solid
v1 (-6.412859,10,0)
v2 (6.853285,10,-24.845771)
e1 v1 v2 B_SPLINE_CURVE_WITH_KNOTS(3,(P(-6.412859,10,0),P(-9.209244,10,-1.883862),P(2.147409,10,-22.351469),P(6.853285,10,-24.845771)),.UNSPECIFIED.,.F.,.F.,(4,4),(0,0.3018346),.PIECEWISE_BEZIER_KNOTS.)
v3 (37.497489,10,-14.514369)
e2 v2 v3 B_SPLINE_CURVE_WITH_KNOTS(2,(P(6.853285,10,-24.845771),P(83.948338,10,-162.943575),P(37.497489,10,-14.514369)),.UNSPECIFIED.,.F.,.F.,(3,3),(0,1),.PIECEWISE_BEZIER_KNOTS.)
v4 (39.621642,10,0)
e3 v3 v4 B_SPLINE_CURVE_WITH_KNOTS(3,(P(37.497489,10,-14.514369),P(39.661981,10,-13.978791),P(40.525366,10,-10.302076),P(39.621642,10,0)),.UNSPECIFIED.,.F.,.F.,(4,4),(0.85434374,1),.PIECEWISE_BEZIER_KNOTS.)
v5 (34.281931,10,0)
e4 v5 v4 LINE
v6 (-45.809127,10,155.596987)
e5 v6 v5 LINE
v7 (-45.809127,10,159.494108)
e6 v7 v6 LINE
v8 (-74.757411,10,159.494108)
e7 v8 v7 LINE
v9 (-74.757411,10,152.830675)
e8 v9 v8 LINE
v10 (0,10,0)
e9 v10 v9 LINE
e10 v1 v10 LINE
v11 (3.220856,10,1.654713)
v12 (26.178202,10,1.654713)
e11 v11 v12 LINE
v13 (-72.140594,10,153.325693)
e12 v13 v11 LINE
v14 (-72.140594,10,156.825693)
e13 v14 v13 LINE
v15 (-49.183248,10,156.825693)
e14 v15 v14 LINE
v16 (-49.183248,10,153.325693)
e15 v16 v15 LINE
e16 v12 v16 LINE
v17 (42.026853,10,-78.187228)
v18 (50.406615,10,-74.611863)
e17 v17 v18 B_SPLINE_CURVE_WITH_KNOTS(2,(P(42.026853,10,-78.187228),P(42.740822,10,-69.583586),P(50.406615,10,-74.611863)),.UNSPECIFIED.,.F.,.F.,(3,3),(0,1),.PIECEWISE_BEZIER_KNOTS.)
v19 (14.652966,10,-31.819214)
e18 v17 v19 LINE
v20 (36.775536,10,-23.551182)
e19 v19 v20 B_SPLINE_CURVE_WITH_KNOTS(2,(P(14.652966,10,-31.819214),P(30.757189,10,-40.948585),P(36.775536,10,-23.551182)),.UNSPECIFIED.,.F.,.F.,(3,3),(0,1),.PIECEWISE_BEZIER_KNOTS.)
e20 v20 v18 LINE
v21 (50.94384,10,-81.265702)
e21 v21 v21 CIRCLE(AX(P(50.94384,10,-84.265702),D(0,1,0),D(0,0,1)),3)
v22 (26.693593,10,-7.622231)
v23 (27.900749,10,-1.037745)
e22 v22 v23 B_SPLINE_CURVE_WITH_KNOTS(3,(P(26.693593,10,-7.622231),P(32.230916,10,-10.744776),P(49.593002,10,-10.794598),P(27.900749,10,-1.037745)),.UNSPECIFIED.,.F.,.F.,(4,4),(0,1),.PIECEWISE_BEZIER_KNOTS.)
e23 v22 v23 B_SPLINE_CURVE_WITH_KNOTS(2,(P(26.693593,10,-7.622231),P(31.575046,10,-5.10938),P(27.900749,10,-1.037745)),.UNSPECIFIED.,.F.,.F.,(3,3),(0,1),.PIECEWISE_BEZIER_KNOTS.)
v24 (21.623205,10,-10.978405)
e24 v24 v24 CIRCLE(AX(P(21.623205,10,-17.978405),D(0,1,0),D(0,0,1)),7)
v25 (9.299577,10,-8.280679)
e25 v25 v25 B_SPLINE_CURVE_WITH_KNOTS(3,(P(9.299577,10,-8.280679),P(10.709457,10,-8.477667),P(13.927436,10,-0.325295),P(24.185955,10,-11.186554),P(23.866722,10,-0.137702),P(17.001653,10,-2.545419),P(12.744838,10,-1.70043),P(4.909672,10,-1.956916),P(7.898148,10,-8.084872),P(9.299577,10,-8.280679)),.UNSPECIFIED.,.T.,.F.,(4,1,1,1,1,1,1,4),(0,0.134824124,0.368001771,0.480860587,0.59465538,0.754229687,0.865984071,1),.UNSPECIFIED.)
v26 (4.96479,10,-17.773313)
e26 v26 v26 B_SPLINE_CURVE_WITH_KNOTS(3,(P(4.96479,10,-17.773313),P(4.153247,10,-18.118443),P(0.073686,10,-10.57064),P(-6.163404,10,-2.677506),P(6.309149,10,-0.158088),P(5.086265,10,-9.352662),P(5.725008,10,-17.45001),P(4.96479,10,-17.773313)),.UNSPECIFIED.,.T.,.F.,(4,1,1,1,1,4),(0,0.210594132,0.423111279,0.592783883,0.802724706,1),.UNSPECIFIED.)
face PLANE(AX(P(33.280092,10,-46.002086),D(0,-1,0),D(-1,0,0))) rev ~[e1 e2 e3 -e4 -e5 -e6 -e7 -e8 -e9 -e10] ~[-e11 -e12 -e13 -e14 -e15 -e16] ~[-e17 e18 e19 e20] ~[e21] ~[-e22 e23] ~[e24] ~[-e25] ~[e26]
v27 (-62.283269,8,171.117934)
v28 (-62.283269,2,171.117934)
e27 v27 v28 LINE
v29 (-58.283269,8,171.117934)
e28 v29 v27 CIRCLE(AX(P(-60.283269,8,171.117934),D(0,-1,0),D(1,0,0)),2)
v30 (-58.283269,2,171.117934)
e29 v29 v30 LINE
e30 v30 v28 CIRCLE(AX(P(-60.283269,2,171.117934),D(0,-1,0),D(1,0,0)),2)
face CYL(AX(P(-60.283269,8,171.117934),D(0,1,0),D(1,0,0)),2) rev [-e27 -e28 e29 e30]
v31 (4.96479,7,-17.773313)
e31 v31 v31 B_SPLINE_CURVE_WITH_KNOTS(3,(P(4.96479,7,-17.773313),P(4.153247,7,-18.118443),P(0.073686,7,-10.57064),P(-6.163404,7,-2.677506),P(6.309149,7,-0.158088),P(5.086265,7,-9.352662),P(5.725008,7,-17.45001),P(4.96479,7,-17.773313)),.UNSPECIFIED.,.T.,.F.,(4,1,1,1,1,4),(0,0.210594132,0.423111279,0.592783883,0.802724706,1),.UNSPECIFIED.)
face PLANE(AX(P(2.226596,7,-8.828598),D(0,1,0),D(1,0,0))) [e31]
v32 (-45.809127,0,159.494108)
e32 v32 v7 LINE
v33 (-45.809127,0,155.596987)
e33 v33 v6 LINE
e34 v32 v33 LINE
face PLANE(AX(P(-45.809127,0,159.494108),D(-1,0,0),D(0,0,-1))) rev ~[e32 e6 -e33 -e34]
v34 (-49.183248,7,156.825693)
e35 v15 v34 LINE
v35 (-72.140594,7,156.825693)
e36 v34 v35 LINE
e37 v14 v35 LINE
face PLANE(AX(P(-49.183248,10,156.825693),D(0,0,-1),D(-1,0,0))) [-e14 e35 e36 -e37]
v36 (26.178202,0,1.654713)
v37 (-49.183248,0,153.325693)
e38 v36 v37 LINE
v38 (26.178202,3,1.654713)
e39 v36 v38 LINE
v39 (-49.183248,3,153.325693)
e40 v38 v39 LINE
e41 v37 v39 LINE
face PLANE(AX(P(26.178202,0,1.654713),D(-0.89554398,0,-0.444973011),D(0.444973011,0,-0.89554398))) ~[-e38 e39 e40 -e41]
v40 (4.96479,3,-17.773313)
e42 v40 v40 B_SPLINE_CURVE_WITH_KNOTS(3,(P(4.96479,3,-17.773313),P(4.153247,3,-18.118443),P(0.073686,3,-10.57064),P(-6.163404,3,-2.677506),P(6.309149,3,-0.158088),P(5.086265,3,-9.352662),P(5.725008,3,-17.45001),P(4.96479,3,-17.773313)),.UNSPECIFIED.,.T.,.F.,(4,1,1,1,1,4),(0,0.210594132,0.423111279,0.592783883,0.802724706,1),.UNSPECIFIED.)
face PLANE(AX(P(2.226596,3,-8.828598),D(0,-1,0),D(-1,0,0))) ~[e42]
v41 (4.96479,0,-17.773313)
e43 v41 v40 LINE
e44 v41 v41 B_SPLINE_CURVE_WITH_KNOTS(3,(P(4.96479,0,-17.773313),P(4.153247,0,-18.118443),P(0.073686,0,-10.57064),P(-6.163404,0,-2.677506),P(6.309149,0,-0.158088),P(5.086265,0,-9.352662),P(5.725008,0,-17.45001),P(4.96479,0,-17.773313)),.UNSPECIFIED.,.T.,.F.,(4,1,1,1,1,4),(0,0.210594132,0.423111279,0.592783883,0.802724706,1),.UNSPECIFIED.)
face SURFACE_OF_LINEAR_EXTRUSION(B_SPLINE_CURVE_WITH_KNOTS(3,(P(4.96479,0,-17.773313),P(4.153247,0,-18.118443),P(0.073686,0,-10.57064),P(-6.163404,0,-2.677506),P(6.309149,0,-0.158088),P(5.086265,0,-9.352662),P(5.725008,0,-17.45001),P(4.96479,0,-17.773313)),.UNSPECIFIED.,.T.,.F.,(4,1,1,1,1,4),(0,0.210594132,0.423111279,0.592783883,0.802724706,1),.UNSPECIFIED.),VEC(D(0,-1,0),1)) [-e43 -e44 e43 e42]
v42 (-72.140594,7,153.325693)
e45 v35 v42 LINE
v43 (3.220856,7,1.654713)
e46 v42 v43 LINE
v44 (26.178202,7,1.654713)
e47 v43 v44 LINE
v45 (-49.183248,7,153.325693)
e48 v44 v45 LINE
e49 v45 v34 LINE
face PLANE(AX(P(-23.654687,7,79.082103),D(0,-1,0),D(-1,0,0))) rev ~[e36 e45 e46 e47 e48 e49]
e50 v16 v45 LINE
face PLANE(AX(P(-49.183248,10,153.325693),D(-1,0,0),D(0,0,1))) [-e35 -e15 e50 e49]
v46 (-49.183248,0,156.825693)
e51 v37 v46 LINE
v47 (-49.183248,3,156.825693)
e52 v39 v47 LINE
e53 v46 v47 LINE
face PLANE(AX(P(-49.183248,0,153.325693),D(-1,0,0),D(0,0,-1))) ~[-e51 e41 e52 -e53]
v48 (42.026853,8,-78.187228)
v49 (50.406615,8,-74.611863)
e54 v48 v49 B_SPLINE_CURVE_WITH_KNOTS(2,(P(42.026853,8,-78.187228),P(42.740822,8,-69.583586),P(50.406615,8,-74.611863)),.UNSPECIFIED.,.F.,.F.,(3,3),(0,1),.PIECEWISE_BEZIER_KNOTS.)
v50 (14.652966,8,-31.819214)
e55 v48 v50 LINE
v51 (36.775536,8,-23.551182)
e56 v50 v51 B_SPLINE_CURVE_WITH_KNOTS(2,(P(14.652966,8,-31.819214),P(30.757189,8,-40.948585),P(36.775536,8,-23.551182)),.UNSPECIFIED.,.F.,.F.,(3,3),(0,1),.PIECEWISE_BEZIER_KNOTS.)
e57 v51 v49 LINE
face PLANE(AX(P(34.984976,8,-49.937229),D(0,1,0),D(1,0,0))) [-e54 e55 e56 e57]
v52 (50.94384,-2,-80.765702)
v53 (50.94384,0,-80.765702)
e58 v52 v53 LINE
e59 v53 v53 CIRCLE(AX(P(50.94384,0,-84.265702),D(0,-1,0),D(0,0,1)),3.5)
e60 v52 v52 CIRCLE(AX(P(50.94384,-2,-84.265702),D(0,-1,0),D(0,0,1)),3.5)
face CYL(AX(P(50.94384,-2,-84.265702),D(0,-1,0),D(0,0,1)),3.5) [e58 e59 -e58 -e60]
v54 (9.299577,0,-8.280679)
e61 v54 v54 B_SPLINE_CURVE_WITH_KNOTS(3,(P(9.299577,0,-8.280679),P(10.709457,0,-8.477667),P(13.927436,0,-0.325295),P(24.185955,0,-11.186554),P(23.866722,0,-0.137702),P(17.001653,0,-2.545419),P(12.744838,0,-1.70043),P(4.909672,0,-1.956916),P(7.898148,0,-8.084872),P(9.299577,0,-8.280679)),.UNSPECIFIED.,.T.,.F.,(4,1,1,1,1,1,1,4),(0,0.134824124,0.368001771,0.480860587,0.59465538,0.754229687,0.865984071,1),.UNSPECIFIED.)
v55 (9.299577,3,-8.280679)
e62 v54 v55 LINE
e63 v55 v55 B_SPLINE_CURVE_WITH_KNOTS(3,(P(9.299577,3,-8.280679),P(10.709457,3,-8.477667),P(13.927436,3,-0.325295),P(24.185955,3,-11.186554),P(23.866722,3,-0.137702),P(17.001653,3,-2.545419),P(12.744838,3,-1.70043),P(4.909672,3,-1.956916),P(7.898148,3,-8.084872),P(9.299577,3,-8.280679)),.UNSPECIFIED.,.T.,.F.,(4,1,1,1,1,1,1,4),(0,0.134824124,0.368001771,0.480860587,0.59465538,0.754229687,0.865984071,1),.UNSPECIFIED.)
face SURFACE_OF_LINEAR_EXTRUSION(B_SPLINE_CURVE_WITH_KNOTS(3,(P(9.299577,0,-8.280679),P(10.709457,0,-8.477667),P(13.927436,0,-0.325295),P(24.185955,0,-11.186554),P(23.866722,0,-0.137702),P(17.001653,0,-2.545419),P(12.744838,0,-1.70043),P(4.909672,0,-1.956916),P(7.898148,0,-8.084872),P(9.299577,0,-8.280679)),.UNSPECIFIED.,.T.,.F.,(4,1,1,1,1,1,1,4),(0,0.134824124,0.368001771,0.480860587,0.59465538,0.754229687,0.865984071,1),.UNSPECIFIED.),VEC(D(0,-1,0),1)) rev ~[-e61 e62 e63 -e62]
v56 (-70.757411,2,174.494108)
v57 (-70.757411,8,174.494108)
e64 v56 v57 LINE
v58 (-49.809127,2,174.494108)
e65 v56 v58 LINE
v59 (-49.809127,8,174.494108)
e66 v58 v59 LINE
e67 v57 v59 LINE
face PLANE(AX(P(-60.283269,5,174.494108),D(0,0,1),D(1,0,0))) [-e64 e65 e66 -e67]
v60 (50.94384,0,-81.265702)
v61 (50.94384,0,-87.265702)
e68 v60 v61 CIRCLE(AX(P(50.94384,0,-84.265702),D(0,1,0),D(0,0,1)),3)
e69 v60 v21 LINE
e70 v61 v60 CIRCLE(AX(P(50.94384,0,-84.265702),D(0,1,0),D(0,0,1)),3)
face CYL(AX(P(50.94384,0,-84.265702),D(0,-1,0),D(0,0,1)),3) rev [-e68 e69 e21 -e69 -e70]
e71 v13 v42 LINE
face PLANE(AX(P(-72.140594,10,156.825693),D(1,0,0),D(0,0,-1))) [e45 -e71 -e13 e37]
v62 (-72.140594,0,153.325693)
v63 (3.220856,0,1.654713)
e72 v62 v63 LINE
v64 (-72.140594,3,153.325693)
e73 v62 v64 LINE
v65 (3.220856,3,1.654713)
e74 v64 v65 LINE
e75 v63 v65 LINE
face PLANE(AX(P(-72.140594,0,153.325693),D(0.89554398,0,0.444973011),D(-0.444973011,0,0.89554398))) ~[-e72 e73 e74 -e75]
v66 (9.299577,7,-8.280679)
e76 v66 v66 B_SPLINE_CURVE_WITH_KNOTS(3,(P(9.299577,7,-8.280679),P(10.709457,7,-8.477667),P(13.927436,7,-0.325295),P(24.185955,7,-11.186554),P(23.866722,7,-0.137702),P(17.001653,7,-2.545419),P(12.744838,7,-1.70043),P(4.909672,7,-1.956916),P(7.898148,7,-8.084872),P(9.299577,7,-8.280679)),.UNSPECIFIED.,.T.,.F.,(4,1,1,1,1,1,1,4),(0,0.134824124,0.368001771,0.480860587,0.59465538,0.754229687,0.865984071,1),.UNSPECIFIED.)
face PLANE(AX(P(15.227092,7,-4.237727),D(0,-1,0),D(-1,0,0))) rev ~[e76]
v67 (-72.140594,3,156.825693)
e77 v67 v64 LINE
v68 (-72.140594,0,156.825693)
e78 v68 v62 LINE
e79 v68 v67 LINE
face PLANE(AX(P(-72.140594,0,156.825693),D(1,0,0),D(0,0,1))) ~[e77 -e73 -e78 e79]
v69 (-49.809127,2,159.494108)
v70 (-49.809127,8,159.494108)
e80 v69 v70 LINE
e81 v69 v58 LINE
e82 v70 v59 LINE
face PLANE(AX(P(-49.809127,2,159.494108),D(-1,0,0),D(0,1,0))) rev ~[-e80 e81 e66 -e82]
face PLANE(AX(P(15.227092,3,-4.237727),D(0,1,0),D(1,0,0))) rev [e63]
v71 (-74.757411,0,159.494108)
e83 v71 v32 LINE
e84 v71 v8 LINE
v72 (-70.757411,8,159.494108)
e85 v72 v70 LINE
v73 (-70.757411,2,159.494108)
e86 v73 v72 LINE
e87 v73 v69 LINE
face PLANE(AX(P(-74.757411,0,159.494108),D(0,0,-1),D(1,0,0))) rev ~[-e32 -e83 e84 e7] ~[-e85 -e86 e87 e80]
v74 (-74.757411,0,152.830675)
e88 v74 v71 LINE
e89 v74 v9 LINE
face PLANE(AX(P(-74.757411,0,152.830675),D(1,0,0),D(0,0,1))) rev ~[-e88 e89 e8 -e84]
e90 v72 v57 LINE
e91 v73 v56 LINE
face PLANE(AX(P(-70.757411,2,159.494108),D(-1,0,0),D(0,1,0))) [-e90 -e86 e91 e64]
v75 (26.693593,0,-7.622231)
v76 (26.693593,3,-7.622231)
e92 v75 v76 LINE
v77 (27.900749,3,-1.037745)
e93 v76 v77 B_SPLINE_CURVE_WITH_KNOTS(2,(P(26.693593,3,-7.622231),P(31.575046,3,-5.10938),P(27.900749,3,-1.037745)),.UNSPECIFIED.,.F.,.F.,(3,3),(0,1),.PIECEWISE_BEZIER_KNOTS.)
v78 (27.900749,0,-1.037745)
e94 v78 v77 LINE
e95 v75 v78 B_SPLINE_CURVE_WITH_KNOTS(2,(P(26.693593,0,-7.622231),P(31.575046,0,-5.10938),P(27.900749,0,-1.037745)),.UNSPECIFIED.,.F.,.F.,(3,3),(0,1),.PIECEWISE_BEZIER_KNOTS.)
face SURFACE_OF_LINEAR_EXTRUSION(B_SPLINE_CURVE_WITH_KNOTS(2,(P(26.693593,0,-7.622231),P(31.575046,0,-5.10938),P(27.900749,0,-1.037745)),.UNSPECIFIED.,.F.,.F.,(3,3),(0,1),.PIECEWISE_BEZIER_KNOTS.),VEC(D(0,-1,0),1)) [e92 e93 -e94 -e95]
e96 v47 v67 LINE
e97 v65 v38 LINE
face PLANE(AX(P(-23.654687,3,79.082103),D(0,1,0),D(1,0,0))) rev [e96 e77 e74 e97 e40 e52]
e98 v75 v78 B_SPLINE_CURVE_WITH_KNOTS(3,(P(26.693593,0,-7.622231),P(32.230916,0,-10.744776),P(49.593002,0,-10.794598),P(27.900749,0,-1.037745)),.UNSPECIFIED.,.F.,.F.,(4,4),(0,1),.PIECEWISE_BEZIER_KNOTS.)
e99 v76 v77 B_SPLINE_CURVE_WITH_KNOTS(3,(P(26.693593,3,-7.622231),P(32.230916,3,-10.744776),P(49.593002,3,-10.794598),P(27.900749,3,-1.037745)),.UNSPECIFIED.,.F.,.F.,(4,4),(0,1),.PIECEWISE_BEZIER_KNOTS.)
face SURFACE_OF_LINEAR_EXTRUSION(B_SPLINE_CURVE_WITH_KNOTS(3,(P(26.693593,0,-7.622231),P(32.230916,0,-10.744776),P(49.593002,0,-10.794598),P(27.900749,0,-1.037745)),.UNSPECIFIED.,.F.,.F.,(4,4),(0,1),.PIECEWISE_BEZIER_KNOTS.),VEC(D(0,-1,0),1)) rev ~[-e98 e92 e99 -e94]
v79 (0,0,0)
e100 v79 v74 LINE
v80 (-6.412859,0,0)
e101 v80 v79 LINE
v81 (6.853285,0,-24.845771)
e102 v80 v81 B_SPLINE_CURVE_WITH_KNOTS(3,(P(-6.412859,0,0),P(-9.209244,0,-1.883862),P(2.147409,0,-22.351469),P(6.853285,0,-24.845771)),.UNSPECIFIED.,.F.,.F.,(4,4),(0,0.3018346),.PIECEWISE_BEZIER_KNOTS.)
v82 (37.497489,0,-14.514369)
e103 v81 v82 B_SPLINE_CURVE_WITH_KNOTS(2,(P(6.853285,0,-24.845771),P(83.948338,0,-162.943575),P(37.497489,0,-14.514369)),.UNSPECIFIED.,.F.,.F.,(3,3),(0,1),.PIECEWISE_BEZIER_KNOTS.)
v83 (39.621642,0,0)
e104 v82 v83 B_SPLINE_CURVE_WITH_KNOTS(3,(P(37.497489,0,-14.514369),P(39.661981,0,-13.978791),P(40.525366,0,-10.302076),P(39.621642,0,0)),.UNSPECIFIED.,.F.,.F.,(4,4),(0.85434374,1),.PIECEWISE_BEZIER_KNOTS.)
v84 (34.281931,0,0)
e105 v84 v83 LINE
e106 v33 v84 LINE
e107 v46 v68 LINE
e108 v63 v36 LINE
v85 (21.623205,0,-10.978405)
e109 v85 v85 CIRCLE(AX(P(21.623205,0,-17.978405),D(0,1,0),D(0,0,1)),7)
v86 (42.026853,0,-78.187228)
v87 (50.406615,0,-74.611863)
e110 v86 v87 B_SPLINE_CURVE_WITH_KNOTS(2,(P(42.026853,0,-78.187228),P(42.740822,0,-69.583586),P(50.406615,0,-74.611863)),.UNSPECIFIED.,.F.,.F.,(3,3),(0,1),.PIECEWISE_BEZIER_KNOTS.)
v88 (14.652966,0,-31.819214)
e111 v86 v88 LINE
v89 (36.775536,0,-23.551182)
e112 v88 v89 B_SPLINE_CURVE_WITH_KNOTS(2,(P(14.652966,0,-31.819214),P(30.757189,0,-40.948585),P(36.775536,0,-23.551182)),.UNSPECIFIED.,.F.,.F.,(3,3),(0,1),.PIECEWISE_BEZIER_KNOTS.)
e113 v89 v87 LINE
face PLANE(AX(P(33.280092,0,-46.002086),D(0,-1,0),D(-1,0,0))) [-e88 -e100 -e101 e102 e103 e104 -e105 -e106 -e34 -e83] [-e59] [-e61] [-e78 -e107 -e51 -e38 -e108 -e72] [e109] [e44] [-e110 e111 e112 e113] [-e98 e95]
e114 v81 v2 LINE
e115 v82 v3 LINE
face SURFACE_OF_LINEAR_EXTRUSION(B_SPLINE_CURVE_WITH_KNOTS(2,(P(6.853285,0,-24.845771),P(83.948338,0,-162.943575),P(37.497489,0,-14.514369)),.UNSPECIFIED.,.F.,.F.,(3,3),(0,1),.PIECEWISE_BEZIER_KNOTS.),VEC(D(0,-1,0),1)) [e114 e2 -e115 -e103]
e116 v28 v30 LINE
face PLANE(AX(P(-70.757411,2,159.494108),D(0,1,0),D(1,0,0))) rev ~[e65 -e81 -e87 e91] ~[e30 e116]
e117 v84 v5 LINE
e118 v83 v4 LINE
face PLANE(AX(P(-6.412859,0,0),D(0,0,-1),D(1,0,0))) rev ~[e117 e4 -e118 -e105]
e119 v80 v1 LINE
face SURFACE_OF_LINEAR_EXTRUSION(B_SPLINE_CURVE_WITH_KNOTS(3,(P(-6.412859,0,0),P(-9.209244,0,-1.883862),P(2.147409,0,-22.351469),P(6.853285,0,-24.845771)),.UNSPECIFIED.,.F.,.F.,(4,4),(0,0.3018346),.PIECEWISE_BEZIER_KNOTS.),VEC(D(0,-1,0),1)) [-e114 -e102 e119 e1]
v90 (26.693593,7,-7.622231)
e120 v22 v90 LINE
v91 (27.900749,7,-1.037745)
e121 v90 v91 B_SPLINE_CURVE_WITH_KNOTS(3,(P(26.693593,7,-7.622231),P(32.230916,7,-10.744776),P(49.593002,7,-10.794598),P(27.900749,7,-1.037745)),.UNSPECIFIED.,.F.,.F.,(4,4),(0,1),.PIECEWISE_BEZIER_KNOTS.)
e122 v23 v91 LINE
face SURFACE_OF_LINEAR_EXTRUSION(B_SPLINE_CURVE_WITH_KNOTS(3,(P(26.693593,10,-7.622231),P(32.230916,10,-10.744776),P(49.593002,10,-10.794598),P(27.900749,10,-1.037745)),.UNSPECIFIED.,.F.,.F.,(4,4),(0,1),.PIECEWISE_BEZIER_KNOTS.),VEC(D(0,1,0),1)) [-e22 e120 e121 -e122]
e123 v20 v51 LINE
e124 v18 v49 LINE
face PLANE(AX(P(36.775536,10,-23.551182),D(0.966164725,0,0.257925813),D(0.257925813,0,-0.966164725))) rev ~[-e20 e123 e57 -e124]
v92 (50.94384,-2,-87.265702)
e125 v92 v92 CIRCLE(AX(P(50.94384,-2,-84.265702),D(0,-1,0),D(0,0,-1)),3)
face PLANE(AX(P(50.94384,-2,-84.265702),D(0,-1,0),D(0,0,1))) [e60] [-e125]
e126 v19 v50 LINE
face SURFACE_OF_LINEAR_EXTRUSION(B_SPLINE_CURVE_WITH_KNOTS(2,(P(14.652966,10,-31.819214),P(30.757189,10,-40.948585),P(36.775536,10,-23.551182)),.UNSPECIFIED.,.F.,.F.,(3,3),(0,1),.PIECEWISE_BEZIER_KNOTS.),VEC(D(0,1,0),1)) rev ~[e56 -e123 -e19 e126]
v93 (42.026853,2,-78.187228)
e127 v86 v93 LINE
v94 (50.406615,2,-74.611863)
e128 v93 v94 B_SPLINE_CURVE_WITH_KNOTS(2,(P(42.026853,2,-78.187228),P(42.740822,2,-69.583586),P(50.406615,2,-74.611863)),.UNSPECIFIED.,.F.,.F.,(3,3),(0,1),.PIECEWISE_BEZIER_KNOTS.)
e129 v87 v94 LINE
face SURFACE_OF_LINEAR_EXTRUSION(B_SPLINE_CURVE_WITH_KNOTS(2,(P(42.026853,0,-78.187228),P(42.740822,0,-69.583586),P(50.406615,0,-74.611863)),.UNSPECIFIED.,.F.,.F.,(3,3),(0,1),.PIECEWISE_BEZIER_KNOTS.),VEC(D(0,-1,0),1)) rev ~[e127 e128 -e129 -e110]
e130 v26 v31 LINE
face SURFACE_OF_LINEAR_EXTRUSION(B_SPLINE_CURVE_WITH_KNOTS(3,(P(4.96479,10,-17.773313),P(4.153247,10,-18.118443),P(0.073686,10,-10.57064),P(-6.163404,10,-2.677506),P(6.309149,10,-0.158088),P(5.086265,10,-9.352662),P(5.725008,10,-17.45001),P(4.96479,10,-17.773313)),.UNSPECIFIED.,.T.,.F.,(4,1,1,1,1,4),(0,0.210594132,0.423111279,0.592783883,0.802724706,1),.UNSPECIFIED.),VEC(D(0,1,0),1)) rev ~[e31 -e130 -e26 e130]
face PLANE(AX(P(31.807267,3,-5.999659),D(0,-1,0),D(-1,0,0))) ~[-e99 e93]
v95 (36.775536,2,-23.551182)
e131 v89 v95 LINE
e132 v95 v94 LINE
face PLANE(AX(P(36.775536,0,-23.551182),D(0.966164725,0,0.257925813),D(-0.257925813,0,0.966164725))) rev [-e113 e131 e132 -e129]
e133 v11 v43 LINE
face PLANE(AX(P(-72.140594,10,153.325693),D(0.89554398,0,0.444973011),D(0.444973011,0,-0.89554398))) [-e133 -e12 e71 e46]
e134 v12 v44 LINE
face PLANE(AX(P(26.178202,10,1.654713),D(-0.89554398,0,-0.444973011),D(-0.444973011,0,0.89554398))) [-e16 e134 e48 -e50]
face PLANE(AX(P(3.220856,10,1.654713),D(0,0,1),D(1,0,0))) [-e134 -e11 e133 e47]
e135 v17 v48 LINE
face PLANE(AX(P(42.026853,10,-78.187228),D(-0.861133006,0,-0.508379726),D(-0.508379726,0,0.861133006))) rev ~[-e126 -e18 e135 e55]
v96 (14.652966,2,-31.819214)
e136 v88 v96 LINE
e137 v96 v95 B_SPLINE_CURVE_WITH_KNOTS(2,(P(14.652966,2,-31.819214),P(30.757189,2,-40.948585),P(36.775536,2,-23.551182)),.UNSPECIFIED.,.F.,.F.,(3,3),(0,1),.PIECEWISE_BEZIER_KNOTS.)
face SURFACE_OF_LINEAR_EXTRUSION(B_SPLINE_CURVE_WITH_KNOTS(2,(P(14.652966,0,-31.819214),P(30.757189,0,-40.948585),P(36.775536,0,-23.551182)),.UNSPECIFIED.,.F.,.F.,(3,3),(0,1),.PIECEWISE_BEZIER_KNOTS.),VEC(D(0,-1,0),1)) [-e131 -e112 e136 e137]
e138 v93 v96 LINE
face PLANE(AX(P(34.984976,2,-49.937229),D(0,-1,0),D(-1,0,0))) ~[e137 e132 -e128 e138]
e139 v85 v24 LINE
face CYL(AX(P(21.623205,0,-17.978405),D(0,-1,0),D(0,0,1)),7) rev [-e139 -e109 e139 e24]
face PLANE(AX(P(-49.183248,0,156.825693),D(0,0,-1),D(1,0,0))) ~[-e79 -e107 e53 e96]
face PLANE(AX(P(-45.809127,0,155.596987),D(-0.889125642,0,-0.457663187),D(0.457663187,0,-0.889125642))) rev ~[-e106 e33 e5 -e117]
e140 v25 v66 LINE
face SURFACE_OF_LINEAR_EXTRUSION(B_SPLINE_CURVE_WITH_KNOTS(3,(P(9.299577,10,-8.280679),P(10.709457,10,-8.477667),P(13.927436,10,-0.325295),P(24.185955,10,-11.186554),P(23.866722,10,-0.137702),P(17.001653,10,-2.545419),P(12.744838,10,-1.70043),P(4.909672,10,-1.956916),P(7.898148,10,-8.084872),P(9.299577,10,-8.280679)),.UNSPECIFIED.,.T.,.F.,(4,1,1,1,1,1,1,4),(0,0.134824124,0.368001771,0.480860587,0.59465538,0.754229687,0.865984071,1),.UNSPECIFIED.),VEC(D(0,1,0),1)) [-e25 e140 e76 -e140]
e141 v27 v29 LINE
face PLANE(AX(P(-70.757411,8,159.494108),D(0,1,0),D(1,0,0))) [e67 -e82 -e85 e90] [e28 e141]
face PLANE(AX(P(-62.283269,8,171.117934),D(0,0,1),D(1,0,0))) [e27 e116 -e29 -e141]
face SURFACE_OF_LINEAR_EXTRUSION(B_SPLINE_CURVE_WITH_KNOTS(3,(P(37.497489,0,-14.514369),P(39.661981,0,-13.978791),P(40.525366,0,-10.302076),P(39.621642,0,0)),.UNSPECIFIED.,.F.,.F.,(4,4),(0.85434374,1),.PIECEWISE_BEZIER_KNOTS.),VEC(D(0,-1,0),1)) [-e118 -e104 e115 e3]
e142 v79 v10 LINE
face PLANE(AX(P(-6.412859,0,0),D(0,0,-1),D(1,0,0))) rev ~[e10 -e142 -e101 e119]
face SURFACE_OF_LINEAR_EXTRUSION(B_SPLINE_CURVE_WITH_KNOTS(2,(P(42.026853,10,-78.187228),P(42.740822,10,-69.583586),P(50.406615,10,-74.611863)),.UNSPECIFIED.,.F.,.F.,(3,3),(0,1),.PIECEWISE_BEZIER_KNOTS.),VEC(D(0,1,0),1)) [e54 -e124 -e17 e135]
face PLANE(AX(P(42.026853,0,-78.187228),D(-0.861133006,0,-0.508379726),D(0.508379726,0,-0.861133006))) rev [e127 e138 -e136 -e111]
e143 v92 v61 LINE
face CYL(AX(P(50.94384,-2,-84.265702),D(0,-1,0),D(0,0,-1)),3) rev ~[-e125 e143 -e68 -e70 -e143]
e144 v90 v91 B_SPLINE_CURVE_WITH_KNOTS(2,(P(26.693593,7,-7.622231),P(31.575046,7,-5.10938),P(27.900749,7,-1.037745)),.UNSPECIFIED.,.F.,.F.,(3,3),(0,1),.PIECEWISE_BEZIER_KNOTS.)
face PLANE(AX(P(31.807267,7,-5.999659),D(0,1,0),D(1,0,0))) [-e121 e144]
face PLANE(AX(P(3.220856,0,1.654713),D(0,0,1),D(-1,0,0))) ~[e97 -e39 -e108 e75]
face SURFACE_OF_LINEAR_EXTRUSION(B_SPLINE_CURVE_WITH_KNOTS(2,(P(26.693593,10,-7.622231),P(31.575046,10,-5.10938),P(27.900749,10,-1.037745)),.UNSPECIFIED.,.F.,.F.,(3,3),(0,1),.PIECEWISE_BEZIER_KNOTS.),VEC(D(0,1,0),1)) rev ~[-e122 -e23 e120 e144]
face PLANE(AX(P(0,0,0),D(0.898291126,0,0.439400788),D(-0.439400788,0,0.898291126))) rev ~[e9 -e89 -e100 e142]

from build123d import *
from build123d.topology import SkipClean

# Parameters (mm, degrees)
SKETCH_1_R          = 7
SKETCH_1_R_2        = 3
EXTRUDE_2_DEPTH     = 10
CUT_EXTRUDE_1_DEPTH = 3
CUT_EXTRUDE_3_DEPTH = 3
SKETCH_13_W         = 20.948283726
SKETCH_13_H         = 6
EXTRUDE_3_DEPTH     = 15
CUT_EXTRUDE_4_DEPTH = 6
CUT_EXTRUDE_5_DEPTH = 2
EXTRUDE_START       = 2
SKETCH_20_R         = 3.5
SKETCH_20_R_2       = 3
EXTRUDE_5_DEPTH     = 2


with BuildPart() as part:
    # 草图1 → 凸台-拉伸2 (new body)
    # profile 1 of 3: a face of its own
    with BuildSketch(Plane(origin=(0, 0, 0), x_dir=(1, 0, 0), z_dir=(0, 1, 0))):
        Polygon((34.281930709, 0), (0, 0), (-74.75741082, -152.830674539), (-74.75741082, -159.49410796), (-45.809127094, -159.49410796), (-45.809127094, -155.59698731), align=None)
    # profile 2 of 3: a face of its own
    with BuildSketch(Plane(origin=(0, 0, 0), x_dir=(1, 0, 0), z_dir=(0, 1, 0))):
        with BuildLine():
            Line((-6.412858529, 0), (0, 0))
            Line((0, 0), (34.281930709, 0))
            Line((34.281930709, 0), (39.621642464, 0))
            add(Edge.make_bspline(
                [(37.497488656, 14.514369036), (39.661980906, 13.978790975), (40.525366445, 10.302075865), (39.621642464, 0)],
                knots=[0.85434374, 0.85434374, 0.85434374, 0.85434374, 1, 1, 1, 1], degree=3))
            add(Edge.make_bspline(
                [(6.85328508, 24.845771089), (7.454313764, 25.164340279), (10.257754605, 25.308838797), (6.736264005, 5.629846067), (25.940678071, 7.194028547), (34.715181248, 15.202818165), (37.497488656, 14.514369036)],
                knots=[0.3018346, 0.3018346, 0.3018346, 0.3018346, 0.340384542, 0.521252993, 0.667112536, 0.85434374, 0.85434374, 0.85434374, 0.85434374], degree=3))
            add(Edge.make_bspline(
                [(-6.412858529, 0), (-9.20924404, 1.883861849), (2.14740891, 22.351468907), (6.85328508, 24.845771089)],
                knots=[0, 0, 0, 0, 0.3018346, 0.3018346, 0.3018346, 0.3018346], degree=3))
        make_face()
    # profile 3 of 3: a face of its own
    with BuildSketch(Plane(origin=(0, 0, 0), x_dir=(1, 0, 0), z_dir=(0, 1, 0))):
        with BuildLine():
            add(Edge.make_bspline(
                [(6.85328508, 24.845771089), (83.948337953, 162.943574617), (37.497488656, 14.514369036)],
                knots=[0, 0, 0, 1, 1, 1], degree=2))
            add(Edge.make_bspline(
                [(6.85328508, 24.845771089), (7.454313764, 25.164340279), (10.257754605, 25.308838797), (6.736264005, 5.629846067), (25.940678071, 7.194028547), (34.715181248, 15.202818165), (37.497488656, 14.514369036)],
                knots=[0.3018346, 0.3018346, 0.3018346, 0.3018346, 0.340384542, 0.521252993, 0.667112536, 0.85434374, 0.85434374, 0.85434374, 0.85434374], degree=3))
        make_face()
        with Locations(Location((21.623204814, 17.978404966, 0), (0, 0, 270))):
            Circle(SKETCH_1_R, mode=Mode.SUBTRACT)
        with Locations(Location((50.943840314, 84.2657022, 0), (0, 0, 270))):
            Circle(SKETCH_1_R_2, mode=Mode.SUBTRACT)
    extrude(amount=EXTRUDE_2_DEPTH)

    # 草图2 → 切除-拉伸1 (cut)
    with BuildSketch(Plane(origin=(0, 10, 0), x_dir=(1, 0, 0), z_dir=(0, 1, 0))):
        with BuildLine():
            add(Edge.make_bspline(
                [(4.964790135, 17.773312955), (4.153246505, 18.118443099), (0.0736862, 10.570640486), (-6.163403671, 2.677506419), (6.309148791, 0.158088186), (5.086264962, 9.352661934), (5.725008414, 17.450010259), (4.964790135, 17.773312955)],
                knots=[0, 0, 0, 0, 0.210594132, 0.423111279, 0.592783883, 0.802724706, 1, 1, 1, 1], degree=3))
        make_face()
        with BuildLine():
            add(Edge.make_bspline(
                [(9.299576658, 8.280679177), (10.70945689, 8.477667133), (13.927436248, 0.325295304), (24.185955373, 11.186553751), (23.86672185, 0.137701725), (17.001653264, 2.545418566), (12.74483826, 1.700430187), (4.90967236, 1.956915895), (7.898147864, 8.084872053), (9.299576658, 8.280679177)],
                knots=[0, 0, 0, 0, 0.134824124, 0.368001771, 0.480860587, 0.59465538, 0.754229687, 0.865984071, 1, 1, 1, 1], degree=3))
        make_face()
        with BuildLine():
            add(Edge.make_bspline(
                [(26.693593465, 7.622230591), (31.575046141, 5.109380188), (27.900749206, 1.037744734)],
                knots=[0, 0, 0, 1, 1, 1], degree=2))
            add(Edge.make_bspline(
                [(26.693593465, 7.622230591), (32.230916242, 10.744775729), (49.593001909, 10.794597933), (27.900749206, 1.037744734)],
                knots=[0, 0, 0, 0, 1, 1, 1, 1], degree=3))
        make_face()
    cut_extrude_1 = extrude(amount=-CUT_EXTRUDE_1_DEPTH, mode=Mode.SUBTRACT)

    # 镜向1: 切除-拉伸1 across plane
    add(cut_extrude_1.mirror(Plane.ZX.offset(5)), mode=Mode.SUBTRACT)

    # 草图12 → 切除-拉伸3 (cut)
    with BuildSketch(Plane(origin=(0, 10, 0), x_dir=(1, 0, 0), z_dir=(0, 1, 0))):
        Polygon((3.22085578, -1.654712908), (26.178201806, -1.654712908), (-49.183248008, -153.325693041), (-49.183248008, -156.825693041), (-72.140594034, -156.825693041), (-72.140594034, -153.325693041), align=None)
    cut_extrude_3 = extrude(amount=-CUT_EXTRUDE_3_DEPTH, mode=Mode.SUBTRACT)

    # 镜向2: 切除-拉伸3 across plane
    add(cut_extrude_3.mirror(Plane.ZX.offset(5)), mode=Mode.SUBTRACT)

    # 草图13 → 凸台-拉伸3 (add)
    with BuildSketch(Plane.XY.offset(159.49410796)):
        with Locations((-60.283268957, 5)):
            Rectangle(SKETCH_13_W, SKETCH_13_H)
    extrude(amount=EXTRUDE_3_DEPTH)

    # 草图16 → 切除-拉伸4 (cut)
    with BuildSketch(Plane(origin=(0, 8, 0), x_dir=(1, 0, 0), z_dir=(0, 1, 0))):
        with BuildLine():
            Line((-62.283268957, -171.117934411), (-58.283268957, -171.117934411))
            ThreePointArc((-58.283268957, -171.117934411), (-60.283268957, -173.117934411), (-62.283268957, -171.117934411))
        make_face()
    extrude(amount=-CUT_EXTRUDE_4_DEPTH, mode=Mode.SUBTRACT)

    # 草图17 → 切除-拉伸5 (cut)
    with BuildSketch(Plane(origin=(0, 10, 0), x_dir=(1, 0, 0), z_dir=(0, 1, 0))):
        with BuildLine():
            Line((42.026853455, 78.187228075), (14.65296552, 31.819213818))
            add(Edge.make_bspline(
                [(14.65296552, 31.819213818), (30.757188992, 40.948585223), (36.775536177, 23.551182361)],
                knots=[0, 0, 0, 1, 1, 1], degree=2))
            Line((36.775536177, 23.551182361), (50.406615067, 74.61186312))
            add(Edge.make_bspline(
                [(42.026853455, 78.187228075), (42.740822053, 69.583585768), (50.406615067, 74.61186312)],
                knots=[0, 0, 0, 1, 1, 1], degree=2))
        make_face()
    cut_extrude_5 = extrude(amount=-CUT_EXTRUDE_5_DEPTH, mode=Mode.SUBTRACT)

    # 镜向3: 切除-拉伸5 across plane
    add(cut_extrude_5.mirror(Plane.ZX.offset(5)), mode=Mode.SUBTRACT)

    # 草图20 → 凸台-拉伸5 (add)
    with SkipClean():  # the faces are left unmerged after this step: merging them gives an invalid solid
        with BuildSketch(Plane.XZ.offset(EXTRUDE_START)):
            with Locations(Location((50.943840314, -84.2657022, 0), (0, 0, 90))):
                Circle(SKETCH_20_R)
            with Locations(Location((50.943840314, -84.2657022, 0), (0, 0, 270))):
                Circle(SKETCH_20_R_2, mode=Mode.SUBTRACT)
        extrude(amount=-EXTRUDE_5_DEPTH)


solid = part.part
